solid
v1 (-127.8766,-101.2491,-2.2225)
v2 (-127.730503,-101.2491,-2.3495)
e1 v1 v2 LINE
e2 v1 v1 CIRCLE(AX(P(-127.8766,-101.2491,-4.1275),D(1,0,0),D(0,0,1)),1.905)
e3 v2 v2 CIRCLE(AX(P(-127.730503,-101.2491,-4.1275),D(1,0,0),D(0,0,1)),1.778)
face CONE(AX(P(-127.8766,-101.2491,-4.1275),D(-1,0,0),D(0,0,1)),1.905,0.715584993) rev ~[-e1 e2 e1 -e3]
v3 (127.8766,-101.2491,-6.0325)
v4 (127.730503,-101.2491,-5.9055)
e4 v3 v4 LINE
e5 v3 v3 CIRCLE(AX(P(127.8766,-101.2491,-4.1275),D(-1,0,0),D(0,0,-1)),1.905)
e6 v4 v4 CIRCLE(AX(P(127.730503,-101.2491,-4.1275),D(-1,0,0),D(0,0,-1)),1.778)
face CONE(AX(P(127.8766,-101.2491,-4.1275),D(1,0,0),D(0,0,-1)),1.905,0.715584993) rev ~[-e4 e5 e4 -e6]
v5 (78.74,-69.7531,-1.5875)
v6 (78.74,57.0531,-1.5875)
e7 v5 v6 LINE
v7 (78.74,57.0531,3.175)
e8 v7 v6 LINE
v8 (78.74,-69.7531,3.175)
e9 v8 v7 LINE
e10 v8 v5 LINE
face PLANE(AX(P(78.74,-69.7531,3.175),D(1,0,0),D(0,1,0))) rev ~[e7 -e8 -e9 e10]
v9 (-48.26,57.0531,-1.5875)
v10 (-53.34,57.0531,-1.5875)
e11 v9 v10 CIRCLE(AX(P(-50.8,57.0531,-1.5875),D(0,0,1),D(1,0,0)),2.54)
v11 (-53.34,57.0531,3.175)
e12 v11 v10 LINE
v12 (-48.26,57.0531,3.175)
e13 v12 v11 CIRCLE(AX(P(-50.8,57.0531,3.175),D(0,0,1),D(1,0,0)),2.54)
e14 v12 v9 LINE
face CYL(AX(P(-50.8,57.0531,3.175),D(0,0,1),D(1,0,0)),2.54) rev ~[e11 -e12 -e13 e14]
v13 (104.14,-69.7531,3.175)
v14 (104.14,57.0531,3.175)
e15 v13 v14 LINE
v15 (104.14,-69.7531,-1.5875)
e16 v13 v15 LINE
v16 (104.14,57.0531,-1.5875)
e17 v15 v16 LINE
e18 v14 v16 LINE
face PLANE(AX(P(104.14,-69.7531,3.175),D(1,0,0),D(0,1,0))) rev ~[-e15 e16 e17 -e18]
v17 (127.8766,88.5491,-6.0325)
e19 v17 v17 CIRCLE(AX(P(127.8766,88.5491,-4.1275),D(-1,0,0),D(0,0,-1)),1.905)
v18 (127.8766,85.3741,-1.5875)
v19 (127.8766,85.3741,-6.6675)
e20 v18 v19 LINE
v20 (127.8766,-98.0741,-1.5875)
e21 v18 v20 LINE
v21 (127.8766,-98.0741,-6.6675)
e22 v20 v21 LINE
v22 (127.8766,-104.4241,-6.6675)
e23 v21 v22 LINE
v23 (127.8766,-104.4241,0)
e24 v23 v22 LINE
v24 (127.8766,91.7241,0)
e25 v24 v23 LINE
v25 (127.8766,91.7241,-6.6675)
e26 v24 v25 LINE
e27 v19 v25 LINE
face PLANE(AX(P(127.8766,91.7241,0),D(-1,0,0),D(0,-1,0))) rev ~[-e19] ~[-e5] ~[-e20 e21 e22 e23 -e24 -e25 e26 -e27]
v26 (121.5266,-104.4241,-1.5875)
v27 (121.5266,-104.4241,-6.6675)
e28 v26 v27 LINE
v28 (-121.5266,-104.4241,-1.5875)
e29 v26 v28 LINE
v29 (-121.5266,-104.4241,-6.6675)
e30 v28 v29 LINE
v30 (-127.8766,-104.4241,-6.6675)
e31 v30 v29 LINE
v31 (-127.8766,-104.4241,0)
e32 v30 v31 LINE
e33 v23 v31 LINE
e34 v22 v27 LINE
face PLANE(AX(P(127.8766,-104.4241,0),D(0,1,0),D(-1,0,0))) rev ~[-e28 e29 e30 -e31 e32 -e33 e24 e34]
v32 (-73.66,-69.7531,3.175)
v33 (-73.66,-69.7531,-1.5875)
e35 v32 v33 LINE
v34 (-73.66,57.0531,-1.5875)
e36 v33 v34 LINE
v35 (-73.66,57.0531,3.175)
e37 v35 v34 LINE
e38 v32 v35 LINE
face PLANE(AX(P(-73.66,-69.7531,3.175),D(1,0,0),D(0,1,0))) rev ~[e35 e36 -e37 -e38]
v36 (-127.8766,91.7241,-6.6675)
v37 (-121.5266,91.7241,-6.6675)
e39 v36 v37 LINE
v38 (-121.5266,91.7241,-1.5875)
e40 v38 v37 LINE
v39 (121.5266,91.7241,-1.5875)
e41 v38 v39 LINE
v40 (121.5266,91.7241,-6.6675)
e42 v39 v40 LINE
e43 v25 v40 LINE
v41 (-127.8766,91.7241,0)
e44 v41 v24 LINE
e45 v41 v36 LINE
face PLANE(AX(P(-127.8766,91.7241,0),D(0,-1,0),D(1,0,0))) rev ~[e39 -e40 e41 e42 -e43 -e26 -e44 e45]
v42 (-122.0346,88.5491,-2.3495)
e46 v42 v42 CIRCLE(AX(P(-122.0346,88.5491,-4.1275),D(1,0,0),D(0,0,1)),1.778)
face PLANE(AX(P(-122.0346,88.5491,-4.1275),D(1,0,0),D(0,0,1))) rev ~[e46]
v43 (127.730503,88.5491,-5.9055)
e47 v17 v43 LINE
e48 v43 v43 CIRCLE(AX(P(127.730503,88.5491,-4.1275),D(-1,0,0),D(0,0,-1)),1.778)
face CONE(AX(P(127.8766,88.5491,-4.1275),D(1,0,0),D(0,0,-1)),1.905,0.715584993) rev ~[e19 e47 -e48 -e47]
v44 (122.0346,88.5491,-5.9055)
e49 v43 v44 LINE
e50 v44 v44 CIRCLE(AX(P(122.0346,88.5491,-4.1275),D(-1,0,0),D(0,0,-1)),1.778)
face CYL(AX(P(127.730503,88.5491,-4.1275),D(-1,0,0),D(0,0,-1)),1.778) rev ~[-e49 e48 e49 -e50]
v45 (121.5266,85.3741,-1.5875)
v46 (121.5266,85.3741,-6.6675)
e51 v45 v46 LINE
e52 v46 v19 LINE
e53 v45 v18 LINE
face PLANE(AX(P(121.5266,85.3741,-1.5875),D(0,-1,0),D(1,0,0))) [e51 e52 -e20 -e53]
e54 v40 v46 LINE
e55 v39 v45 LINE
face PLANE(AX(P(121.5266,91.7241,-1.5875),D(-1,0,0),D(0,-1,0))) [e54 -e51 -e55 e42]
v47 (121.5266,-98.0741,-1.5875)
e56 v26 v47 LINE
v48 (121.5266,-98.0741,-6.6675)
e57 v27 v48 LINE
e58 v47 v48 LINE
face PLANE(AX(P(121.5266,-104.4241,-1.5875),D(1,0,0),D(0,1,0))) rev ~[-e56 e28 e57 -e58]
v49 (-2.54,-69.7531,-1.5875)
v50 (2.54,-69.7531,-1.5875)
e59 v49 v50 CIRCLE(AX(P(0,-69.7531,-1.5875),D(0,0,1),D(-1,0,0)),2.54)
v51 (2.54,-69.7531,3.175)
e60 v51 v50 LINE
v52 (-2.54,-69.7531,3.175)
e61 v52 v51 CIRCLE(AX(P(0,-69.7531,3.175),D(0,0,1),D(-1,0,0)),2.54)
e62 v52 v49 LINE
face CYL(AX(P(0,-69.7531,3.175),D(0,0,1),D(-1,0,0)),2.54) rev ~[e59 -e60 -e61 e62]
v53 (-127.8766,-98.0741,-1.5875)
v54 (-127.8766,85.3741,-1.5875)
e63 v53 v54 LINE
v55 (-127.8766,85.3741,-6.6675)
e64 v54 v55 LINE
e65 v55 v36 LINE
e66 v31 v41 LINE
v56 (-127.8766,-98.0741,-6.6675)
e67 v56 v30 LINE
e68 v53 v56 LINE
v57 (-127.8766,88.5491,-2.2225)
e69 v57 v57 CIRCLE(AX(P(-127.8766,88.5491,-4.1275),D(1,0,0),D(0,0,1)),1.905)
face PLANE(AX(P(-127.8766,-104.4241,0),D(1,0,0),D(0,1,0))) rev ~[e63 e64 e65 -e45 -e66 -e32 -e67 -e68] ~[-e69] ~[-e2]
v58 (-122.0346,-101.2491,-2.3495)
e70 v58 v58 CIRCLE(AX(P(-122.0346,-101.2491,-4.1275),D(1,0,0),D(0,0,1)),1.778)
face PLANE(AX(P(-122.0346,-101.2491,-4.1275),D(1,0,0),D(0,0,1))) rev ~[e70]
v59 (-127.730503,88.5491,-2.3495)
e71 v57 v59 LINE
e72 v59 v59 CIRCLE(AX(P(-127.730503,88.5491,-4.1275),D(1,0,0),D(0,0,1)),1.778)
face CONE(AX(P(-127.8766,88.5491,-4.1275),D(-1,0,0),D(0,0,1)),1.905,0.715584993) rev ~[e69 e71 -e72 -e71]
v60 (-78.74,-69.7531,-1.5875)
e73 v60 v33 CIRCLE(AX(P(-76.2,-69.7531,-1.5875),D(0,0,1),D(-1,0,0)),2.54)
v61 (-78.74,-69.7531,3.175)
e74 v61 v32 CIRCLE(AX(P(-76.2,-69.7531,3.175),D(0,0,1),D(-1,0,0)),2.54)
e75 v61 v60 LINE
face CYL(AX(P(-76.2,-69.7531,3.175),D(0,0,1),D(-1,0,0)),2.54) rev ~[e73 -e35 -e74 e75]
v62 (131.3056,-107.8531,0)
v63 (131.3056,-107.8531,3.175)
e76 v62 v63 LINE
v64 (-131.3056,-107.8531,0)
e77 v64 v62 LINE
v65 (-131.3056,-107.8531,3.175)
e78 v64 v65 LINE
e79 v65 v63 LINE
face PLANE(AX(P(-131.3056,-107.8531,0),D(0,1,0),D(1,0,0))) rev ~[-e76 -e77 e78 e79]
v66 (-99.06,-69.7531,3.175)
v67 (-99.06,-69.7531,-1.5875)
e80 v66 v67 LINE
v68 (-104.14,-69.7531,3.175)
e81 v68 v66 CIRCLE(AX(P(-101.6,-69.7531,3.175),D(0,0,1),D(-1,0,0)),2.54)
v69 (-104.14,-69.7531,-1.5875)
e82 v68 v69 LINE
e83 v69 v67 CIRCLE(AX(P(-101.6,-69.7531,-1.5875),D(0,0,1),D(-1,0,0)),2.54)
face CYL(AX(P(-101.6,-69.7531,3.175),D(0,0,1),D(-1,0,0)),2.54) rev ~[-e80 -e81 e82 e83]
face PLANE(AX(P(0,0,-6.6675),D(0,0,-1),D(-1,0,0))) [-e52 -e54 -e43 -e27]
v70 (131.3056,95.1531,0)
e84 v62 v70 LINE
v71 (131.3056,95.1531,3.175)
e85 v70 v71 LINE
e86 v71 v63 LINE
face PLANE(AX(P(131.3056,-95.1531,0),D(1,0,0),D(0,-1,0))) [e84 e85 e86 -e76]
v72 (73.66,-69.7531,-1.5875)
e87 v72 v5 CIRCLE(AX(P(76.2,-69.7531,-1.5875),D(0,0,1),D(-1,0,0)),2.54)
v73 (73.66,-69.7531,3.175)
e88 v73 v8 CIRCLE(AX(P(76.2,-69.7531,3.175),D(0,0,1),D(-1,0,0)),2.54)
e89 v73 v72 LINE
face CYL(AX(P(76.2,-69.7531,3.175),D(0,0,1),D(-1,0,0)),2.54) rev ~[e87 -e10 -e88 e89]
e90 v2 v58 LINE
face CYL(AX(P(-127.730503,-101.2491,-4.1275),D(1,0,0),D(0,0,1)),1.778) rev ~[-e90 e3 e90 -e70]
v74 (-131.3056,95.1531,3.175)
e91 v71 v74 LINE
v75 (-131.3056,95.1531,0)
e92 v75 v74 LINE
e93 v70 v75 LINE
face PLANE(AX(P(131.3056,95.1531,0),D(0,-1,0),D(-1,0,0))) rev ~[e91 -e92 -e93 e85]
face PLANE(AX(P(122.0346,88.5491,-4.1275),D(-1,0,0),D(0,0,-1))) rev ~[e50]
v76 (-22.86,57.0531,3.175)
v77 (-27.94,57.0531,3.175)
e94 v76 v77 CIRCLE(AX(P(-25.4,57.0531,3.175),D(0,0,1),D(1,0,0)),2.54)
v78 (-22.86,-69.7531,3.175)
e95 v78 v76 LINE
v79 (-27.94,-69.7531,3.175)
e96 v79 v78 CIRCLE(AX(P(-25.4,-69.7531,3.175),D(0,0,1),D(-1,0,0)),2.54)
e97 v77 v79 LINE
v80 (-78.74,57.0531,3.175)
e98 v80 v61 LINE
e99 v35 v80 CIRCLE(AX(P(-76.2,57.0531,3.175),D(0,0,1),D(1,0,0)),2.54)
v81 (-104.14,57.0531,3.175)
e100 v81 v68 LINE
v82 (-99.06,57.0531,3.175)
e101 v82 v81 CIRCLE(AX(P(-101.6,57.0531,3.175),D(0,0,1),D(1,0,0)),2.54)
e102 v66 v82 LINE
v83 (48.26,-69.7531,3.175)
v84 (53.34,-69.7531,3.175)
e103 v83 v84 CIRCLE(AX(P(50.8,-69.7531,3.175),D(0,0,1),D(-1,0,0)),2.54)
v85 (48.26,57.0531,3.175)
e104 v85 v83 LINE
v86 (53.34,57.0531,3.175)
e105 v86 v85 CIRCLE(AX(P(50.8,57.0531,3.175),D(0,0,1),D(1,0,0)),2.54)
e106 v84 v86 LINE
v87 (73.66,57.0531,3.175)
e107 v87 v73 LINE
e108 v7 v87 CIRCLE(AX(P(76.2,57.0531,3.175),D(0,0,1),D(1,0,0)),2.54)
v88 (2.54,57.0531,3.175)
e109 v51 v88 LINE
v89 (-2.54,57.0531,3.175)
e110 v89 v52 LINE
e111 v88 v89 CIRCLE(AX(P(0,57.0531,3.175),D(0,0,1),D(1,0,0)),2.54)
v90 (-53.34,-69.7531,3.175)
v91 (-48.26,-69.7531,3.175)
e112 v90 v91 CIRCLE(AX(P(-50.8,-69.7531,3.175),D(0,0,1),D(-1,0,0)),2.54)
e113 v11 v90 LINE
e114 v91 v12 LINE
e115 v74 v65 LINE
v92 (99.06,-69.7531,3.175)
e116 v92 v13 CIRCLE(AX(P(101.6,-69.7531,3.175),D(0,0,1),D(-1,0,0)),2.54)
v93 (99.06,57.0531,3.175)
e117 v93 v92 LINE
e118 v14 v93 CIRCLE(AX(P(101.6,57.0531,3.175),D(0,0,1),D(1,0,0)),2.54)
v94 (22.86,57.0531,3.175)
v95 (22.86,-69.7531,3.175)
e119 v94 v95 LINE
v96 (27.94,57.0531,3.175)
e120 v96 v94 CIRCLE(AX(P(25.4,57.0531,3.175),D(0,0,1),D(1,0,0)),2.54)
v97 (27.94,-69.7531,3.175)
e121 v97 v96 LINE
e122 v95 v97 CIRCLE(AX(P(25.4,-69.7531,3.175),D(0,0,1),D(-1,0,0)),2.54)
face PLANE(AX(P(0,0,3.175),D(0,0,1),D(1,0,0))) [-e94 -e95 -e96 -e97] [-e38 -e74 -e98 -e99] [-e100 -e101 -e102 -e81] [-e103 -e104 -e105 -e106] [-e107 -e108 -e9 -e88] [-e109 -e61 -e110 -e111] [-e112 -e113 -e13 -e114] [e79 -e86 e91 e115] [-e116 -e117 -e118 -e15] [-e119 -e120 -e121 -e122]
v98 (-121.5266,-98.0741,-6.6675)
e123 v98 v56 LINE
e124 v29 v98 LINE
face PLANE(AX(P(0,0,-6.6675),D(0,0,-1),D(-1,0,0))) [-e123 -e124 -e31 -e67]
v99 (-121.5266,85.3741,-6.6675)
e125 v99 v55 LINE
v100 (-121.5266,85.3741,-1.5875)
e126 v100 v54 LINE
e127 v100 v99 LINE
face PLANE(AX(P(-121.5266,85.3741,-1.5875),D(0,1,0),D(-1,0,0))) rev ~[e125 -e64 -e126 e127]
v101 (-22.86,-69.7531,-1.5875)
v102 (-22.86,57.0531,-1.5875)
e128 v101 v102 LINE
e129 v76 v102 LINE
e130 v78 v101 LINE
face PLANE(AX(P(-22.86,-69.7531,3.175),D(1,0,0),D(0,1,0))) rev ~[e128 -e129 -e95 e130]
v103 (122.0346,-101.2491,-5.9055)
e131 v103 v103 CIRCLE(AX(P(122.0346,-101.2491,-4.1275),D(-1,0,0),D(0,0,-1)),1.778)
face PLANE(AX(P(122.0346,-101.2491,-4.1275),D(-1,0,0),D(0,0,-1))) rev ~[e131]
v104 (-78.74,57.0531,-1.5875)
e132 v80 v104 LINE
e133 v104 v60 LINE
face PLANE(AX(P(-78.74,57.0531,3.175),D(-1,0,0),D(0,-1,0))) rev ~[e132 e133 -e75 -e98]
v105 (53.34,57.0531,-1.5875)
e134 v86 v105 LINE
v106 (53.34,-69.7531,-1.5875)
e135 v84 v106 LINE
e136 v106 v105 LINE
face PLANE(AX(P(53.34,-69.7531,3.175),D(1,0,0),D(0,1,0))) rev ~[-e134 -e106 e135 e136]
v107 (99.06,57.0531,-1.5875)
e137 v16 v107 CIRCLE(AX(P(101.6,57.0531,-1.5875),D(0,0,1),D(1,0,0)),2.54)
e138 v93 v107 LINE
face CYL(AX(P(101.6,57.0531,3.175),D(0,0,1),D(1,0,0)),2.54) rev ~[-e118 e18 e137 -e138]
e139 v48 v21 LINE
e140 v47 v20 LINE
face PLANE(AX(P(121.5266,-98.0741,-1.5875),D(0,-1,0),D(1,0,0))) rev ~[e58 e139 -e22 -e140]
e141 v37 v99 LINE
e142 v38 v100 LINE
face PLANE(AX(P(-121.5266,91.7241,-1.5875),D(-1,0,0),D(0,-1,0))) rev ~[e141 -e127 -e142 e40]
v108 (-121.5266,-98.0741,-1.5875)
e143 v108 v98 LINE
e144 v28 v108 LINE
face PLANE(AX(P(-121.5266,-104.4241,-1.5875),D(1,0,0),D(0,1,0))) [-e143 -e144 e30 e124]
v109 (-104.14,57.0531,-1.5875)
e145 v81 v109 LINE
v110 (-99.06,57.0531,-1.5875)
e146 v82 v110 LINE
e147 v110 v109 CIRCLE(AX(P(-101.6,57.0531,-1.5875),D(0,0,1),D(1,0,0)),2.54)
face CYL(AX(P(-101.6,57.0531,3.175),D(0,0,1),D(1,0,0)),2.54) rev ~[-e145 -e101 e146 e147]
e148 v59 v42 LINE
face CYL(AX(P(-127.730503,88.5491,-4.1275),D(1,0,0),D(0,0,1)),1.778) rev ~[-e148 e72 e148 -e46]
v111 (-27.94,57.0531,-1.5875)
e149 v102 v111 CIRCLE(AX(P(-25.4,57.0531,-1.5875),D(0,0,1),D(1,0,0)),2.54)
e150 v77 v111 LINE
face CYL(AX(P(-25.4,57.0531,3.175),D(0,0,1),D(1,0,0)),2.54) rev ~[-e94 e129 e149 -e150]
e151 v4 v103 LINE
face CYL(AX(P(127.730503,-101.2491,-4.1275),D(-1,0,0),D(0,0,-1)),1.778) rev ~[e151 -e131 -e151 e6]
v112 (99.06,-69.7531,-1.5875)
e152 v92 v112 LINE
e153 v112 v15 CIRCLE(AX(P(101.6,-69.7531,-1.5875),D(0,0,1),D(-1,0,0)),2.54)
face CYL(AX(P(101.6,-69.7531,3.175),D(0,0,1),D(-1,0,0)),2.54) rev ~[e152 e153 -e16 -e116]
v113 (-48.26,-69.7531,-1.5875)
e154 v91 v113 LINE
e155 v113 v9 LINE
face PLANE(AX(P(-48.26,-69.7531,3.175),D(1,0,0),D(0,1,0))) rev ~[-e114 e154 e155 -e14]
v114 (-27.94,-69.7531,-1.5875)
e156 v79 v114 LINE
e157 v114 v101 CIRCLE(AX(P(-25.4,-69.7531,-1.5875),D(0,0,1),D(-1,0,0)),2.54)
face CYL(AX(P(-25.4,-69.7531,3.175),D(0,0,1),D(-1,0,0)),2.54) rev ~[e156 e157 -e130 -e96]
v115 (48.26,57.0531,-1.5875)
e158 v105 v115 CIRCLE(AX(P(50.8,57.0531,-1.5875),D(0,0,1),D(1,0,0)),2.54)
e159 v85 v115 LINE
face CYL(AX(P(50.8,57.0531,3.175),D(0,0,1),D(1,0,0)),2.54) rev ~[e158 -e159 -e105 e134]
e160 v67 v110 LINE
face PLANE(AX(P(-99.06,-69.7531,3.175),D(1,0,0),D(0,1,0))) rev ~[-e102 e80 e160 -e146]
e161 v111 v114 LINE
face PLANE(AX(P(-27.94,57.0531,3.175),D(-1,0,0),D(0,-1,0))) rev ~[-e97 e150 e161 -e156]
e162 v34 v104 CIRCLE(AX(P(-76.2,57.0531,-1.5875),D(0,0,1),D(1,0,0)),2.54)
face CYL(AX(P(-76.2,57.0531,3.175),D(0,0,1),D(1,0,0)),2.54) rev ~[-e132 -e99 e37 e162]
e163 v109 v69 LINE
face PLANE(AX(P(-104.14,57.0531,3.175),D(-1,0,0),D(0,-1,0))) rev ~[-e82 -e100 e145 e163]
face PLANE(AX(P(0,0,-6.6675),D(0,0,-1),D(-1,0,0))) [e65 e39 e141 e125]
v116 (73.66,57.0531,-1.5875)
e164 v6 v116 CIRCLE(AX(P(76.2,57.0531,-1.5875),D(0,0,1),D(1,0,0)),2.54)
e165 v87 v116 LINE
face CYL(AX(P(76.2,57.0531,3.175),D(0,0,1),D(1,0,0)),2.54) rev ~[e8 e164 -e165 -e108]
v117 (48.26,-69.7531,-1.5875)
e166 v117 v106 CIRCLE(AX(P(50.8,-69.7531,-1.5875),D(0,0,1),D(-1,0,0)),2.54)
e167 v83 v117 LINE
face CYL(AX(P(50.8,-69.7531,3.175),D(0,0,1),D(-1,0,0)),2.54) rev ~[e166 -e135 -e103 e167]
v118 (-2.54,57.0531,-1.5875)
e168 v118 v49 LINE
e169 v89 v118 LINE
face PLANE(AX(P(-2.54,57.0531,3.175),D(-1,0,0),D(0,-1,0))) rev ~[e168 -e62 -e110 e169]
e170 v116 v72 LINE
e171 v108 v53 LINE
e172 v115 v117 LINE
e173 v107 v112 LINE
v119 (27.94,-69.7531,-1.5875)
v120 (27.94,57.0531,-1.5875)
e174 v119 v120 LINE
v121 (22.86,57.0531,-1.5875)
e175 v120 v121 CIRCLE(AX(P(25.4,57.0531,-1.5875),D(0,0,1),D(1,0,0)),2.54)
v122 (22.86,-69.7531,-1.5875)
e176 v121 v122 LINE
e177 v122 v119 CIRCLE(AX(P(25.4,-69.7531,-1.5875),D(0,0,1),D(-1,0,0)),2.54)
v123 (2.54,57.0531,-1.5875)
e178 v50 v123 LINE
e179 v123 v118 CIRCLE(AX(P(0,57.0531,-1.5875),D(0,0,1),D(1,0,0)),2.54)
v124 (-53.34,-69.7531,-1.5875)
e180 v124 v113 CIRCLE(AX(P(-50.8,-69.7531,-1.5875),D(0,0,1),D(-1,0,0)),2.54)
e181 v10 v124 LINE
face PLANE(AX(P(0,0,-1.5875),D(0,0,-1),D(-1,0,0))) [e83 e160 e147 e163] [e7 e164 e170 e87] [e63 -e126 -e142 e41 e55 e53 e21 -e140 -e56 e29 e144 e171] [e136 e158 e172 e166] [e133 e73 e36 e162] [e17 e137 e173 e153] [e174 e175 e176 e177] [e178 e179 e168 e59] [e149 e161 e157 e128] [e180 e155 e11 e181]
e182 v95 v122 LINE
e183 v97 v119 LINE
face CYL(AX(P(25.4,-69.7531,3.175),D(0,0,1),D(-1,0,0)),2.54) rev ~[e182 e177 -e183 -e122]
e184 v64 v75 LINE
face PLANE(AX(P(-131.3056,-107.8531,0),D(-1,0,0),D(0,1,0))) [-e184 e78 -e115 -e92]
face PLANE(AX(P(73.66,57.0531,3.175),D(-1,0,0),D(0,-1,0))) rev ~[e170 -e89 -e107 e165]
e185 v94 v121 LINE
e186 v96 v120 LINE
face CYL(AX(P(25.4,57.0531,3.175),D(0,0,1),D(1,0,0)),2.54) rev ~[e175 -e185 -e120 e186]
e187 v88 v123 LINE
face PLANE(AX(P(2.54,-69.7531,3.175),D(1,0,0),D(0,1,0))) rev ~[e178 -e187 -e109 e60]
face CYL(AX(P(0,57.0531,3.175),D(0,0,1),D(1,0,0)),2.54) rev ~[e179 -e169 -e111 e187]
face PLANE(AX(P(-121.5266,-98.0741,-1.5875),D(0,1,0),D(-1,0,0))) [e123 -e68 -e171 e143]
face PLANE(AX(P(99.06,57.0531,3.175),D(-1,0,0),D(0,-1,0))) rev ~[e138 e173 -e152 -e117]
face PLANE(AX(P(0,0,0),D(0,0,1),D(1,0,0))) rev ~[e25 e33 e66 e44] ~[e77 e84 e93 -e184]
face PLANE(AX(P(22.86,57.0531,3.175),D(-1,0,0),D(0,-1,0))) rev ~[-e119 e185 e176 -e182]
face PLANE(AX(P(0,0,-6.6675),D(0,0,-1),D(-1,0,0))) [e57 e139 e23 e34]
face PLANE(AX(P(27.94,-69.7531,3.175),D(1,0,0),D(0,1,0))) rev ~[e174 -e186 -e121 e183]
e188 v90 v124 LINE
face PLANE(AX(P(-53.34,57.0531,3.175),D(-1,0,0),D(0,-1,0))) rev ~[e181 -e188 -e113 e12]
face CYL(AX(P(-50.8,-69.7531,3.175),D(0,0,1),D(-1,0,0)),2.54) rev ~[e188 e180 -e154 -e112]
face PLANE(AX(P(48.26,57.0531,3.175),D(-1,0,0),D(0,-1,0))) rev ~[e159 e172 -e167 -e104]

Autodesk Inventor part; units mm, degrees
ref_plane "YZ Plane" through (0, 0, 0) normal (1, 0, 0) x (0, 1, 0)
ref_plane "XZ Plane" through (0, 0, 0) normal (0, 1, 0) x (-1, 0, 0)
ref_plane "XY Plane" through (0, 0, 0) normal (0, 0, 1) x (1, 0, 0)
sketch "Sketch1" plane through (0, 0, 0) normal (0, 0, 1) x (1, 0, 0)
  line L0 (131.3056, -95.1531) -> (131.3056, 95.1531)
  line L1 (131.3056, 95.1531) -> (-131.3056, 95.1531)
  line L2 (-131.3056, 95.1531) -> (-131.3056, -95.1531)
  line L3 (-131.3056, -107.8531) -> (131.3056, -107.8531) projected
  line L4 (131.3056, -95.1531) -> (131.3056, -107.8531)
  line L5 (131.3056, -107.8531) -> (-131.3056, -107.8531)
  line L6 (-131.3056, -107.8531) -> (-131.3056, -95.1531)
  point P0 (0, 0)
extrude "Extrusion1" add sketch "Sketch1" along normal blind 3.175
sketch "Sketch2" plane through (0, 0, 0) normal (0, 0, -1) x (-1, 0, 0)
  line L0 (-128.1306, -104.6781) -> (128.1306, -104.6781) projected
  line L1 (128.1306, -104.6781) -> (128.1306, 91.9781) projected
  line L2 (-128.1306, 91.9781) -> (-128.1306, -104.6781) projected
  line L3 (128.1306, 91.9781) -> (-128.1306, 91.9781) projected
  line L4 (-127.8766, 91.7241) -> (-127.8766, -104.4241)
  line L5 (-127.8766, -104.4241) -> (127.8766, -104.4241)
  line L6 (127.8766, -104.4241) -> (127.8766, 91.7241)
  line L7 (127.8766, 91.7241) -> (-127.8766, 91.7241)
  point P0 (0, 0)
  dimension "d72" = 0.254
extrude "Extrusion2" add sketch "Sketch2" along normal blind 1.5875 contours L7 L6 L5 L4
sketch "Sketch6" plane through (0, 0, 3.175) normal (0, 0, 1) x (1, 0, 0)
  line L0 (0, -69.7531) -> (0, 57.0531) construction
  line L1 (2.54, -69.7531) -> (2.54, 57.0531)
  line L2 (-2.54, 57.0531) -> (-2.54, -69.7531)
  arc A0 (-2.54, -69.7531) -> (2.54, -69.7531) centre (0, -69.7531) ccw
  arc A1 (2.54, 57.0531) -> (-2.54, 57.0531) centre (0, 57.0531) ccw
  line L3 (131.3056, 95.1531) -> (-131.3056, 95.1531) projected
  line L4 (131.3056, -107.8531) -> (131.3056, 95.1531) projected
  line L5 (131.3056, 95.1531) -> (-131.3056, 95.1531) projected
  line L6 (-131.3056, 95.1531) -> (-131.3056, -107.8531) projected
  arc A2 (-22.86, 57.0531) -> (-27.94, 57.0531) centre (-25.4, 57.0531) ccw
  line L7 (-27.94, 57.0531) -> (-27.94, -69.7531)
  line L8 (-22.86, -69.7531) -> (-22.86, 57.0531)
  arc A3 (-27.94, -69.7531) -> (-22.86, -69.7531) centre (-25.4, -69.7531) ccw
  arc A4 (-48.26, 57.0531) -> (-53.34, 57.0531) centre (-50.8, 57.0531) ccw
  line L9 (-53.34, 57.0531) -> (-53.34, -69.7531)
  line L10 (-48.26, -69.7531) -> (-48.26, 57.0531)
  arc A5 (-53.34, -69.7531) -> (-48.26, -69.7531) centre (-50.8, -69.7531) ccw
  arc A6 (-73.66, 57.0531) -> (-78.74, 57.0531) centre (-76.2, 57.0531) ccw
  line L11 (-78.74, 57.0531) -> (-78.74, -69.7531)
  line L12 (-73.66, -69.7531) -> (-73.66, 57.0531)
  arc A7 (-78.74, -69.7531) -> (-73.66, -69.7531) centre (-76.2, -69.7531) ccw
  arc A8 (-99.06, 57.0531) -> (-104.14, 57.0531) centre (-101.6, 57.0531) ccw
  line L13 (-104.14, 57.0531) -> (-104.14, -69.7531)
  line L14 (-99.06, -69.7531) -> (-99.06, 57.0531)
  arc A9 (-104.14, -69.7531) -> (-99.06, -69.7531) centre (-101.6, -69.7531) ccw
  arc A10 (27.94, 57.0531) -> (22.86, 57.0531) centre (25.4, 57.0531) ccw
  line L15 (22.86, 57.0531) -> (22.86, -69.7531)
  line L16 (27.94, -69.7531) -> (27.94, 57.0531)
  arc A11 (22.86, -69.7531) -> (27.94, -69.7531) centre (25.4, -69.7531) ccw
  arc A12 (2.54, 57.0531) -> (-2.54, 57.0531) centre (0, 57.0531) ccw
  line L17 (-2.54, 57.0531) -> (-2.54, -69.7531)
  line L18 (2.54, -69.7531) -> (2.54, 57.0531)
  arc A13 (-2.54, -69.7531) -> (2.54, -69.7531) centre (0, -69.7531) ccw
  arc A14 (-22.86, 57.0531) -> (-27.94, 57.0531) centre (-25.4, 57.0531) ccw
  line L19 (-27.94, 57.0531) -> (-27.94, -69.7531)
  line L20 (-22.86, -69.7531) -> (-22.86, 57.0531)
  arc A15 (-27.94, -69.7531) -> (-22.86, -69.7531) centre (-25.4, -69.7531) ccw
  arc A16 (-48.26, 57.0531) -> (-53.34, 57.0531) centre (-50.8, 57.0531) ccw
  line L21 (-53.34, 57.0531) -> (-53.34, -69.7531)
  line L22 (-48.26, -69.7531) -> (-48.26, 57.0531)
  arc A17 (-53.34, -69.7531) -> (-48.26, -69.7531) centre (-50.8, -69.7531) ccw
  arc A18 (-73.66, 57.0531) -> (-78.74, 57.0531) centre (-76.2, 57.0531) ccw
  line L23 (-78.74, 57.0531) -> (-78.74, -69.7531)
  line L24 (-73.66, -69.7531) -> (-73.66, 57.0531)
  arc A19 (-78.74, -69.7531) -> (-73.66, -69.7531) centre (-76.2, -69.7531) ccw
  arc A20 (53.34, 57.0531) -> (48.26, 57.0531) centre (50.8, 57.0531) ccw
  line L25 (48.26, 57.0531) -> (48.26, -69.7531)
  line L26 (53.34, -69.7531) -> (53.34, 57.0531)
  arc A21 (48.26, -69.7531) -> (53.34, -69.7531) centre (50.8, -69.7531) ccw
  arc A22 (27.94, 57.0531) -> (22.86, 57.0531) centre (25.4, 57.0531) ccw
  line L27 (22.86, 57.0531) -> (22.86, -69.7531)
  line L28 (27.94, -69.7531) -> (27.94, 57.0531)
  arc A23 (22.86, -69.7531) -> (27.94, -69.7531) centre (25.4, -69.7531) ccw
  arc A24 (2.54, 57.0531) -> (-2.54, 57.0531) centre (0, 57.0531) ccw
  line L29 (-2.54, 57.0531) -> (-2.54, -69.7531)
  line L30 (2.54, -69.7531) -> (2.54, 57.0531)
  arc A25 (-2.54, -69.7531) -> (2.54, -69.7531) centre (0, -69.7531) ccw
  arc A26 (-22.86, 57.0531) -> (-27.94, 57.0531) centre (-25.4, 57.0531) ccw
  line L31 (-27.94, 57.0531) -> (-27.94, -69.7531)
  line L32 (-22.86, -69.7531) -> (-22.86, 57.0531)
  arc A27 (-27.94, -69.7531) -> (-22.86, -69.7531) centre (-25.4, -69.7531) ccw
  arc A28 (-48.26, 57.0531) -> (-53.34, 57.0531) centre (-50.8, 57.0531) ccw
  line L33 (-53.34, 57.0531) -> (-53.34, -69.7531)
  line L34 (-48.26, -69.7531) -> (-48.26, 57.0531)
  arc A29 (-53.34, -69.7531) -> (-48.26, -69.7531) centre (-50.8, -69.7531) ccw
  arc A30 (78.74, 57.0531) -> (73.66, 57.0531) centre (76.2, 57.0531) ccw
  line L35 (73.66, 57.0531) -> (73.66, -69.7531)
  line L36 (78.74, -69.7531) -> (78.74, 57.0531)
  arc A31 (73.66, -69.7531) -> (78.74, -69.7531) centre (76.2, -69.7531) ccw
  arc A32 (53.34, 57.0531) -> (48.26, 57.0531) centre (50.8, 57.0531) ccw
  line L37 (48.26, 57.0531) -> (48.26, -69.7531)
  line L38 (53.34, -69.7531) -> (53.34, 57.0531)
  arc A33 (48.26, -69.7531) -> (53.34, -69.7531) centre (50.8, -69.7531) ccw
  arc A34 (27.94, 57.0531) -> (22.86, 57.0531) centre (25.4, 57.0531) ccw
  line L39 (22.86, 57.0531) -> (22.86, -69.7531)
  line L40 (27.94, -69.7531) -> (27.94, 57.0531)
  arc A35 (22.86, -69.7531) -> (27.94, -69.7531) centre (25.4, -69.7531) ccw
  arc A36 (2.54, 57.0531) -> (-2.54, 57.0531) centre (0, 57.0531) ccw
  line L41 (-2.54, 57.0531) -> (-2.54, -69.7531)
  line L42 (2.54, -69.7531) -> (2.54, 57.0531)
  arc A37 (-2.54, -69.7531) -> (2.54, -69.7531) centre (0, -69.7531) ccw
  arc A38 (-22.86, 57.0531) -> (-27.94, 57.0531) centre (-25.4, 57.0531) ccw
  line L43 (-27.94, 57.0531) -> (-27.94, -69.7531)
  line L44 (-22.86, -69.7531) -> (-22.86, 57.0531)
  arc A39 (-27.94, -69.7531) -> (-22.86, -69.7531) centre (-25.4, -69.7531) ccw
  arc A40 (104.14, 57.0531) -> (99.06, 57.0531) centre (101.6, 57.0531) ccw
  line L45 (99.06, 57.0531) -> (99.06, -69.7531)
  line L46 (104.14, -69.7531) -> (104.14, 57.0531)
  arc A41 (99.06, -69.7531) -> (104.14, -69.7531) centre (101.6, -69.7531) ccw
  arc A42 (78.74, 57.0531) -> (73.66, 57.0531) centre (76.2, 57.0531) ccw
  line L47 (73.66, 57.0531) -> (73.66, -69.7531)
  line L48 (78.74, -69.7531) -> (78.74, 57.0531)
  arc A43 (73.66, -69.7531) -> (78.74, -69.7531) centre (76.2, -69.7531) ccw
  arc A44 (53.34, 57.0531) -> (48.26, 57.0531) centre (50.8, 57.0531) ccw
  line L49 (48.26, 57.0531) -> (48.26, -69.7531)
  line L50 (53.34, -69.7531) -> (53.34, 57.0531)
  arc A45 (48.26, -69.7531) -> (53.34, -69.7531) centre (50.8, -69.7531) ccw
  arc A46 (27.94, 57.0531) -> (22.86, 57.0531) centre (25.4, 57.0531) ccw
  line L51 (22.86, 57.0531) -> (22.86, -69.7531)
  line L52 (27.94, -69.7531) -> (27.94, 57.0531)
  arc A47 (22.86, -69.7531) -> (27.94, -69.7531) centre (25.4, -69.7531) ccw
  arc A48 (2.54, 57.0531) -> (-2.54, 57.0531) centre (0, 57.0531) ccw
  line L53 (-2.54, 57.0531) -> (-2.54, -69.7531)
  line L54 (2.54, -69.7531) -> (2.54, 57.0531)
  arc A49 (-2.54, -69.7531) -> (2.54, -69.7531) centre (0, -69.7531) ccw
  line L55 (-131.3056, -107.8531) -> (131.3056, -107.8531) projected
  dimension "d28" = 5.08
  dimension "d31" = 25.4
  dimension "d34" = 25.4
  dimension "d110" = 203.0062
  dimension "d112" = 38.1
  dimension "d113" = 38.1
extrude "Extrusion4" cut sketch "Sketch6" against normal up to surface (4.7625 mm away) contours A0 L2 A1 L1 | L8 A3 L7 A2 | L10 A5 L9 A4 | L12 A7 L11 A6 | L14 A9 L13 A8 | L16 A11 L15 A10 | L26 A21 L25 A20 | L36 A31 L35 A30 | L46 A41 L45 A40
sketch "Sketch7" plane through (0, 0, -1.5875) normal (0, 0, -1) x (-1, 0, 0)
  line L0 (-127.8766, 91.7241) -> (-121.5266, 91.7241)
  line L1 (-121.5266, 91.7241) -> (-121.5266, 85.3741)
  line L2 (-121.5266, 85.3741) -> (-127.8766, 85.3741)
  line L3 (-127.8766, 85.3741) -> (-127.8766, 91.7241)
  line L4 (-127.8766, -104.4241) -> (-121.5266, -104.4241)
  line L5 (-121.5266, -104.4241) -> (-121.5266, -98.0741)
  line L6 (-121.5266, -98.0741) -> (-127.8766, -98.0741)
  line L7 (-127.8766, -98.0741) -> (-127.8766, -104.4241)
  line L8 (127.8766, 91.7241) -> (121.5266, 91.7241)
  line L9 (121.5266, 91.7241) -> (121.5266, 85.3741)
  line L10 (121.5266, 85.3741) -> (127.8766, 85.3741)
  line L11 (127.8766, 85.3741) -> (127.8766, 91.7241)
  line L12 (127.8766, -104.4241) -> (121.5266, -104.4241)
  line L13 (121.5266, -104.4241) -> (121.5266, -98.0741)
  line L14 (121.5266, -98.0741) -> (127.8766, -98.0741)
  line L15 (127.8766, -98.0741) -> (127.8766, -104.4241)
  line L16 (127.8766, -104.4241) -> (127.8766, 91.7241) projected
  line L17 (-127.8766, -104.4241) -> (127.8766, -104.4241) projected
  line L18 (127.8766, 91.7241) -> (-127.8766, 91.7241) projected
  line L19 (-127.8766, 91.7241) -> (-127.8766, -104.4241) projected
  point P0 (0, 0)
  dimension "d40" = 6.35
  dimension "d41" = 6.35
  dimension "d42" = 6.35
  dimension "d43" = 6.35
  dimension "d44" = 6.35
  dimension "d45" = 6.35
  dimension "d46" = 6.35
  dimension "d47" = 6.35
  dimension "d73" = 0
  dimension "d74" = 0
  dimension "d75" = 0
  dimension "d76" = 0
extrude "Extrusion5" add sketch "Sketch7" along normal blind 5.08 contours L0 L1 L2 L3 | L8 L11 L10 L9 | L6 L5 L4 L7 | L15 L12 L13 L14
sketch "Sketch11" plane through (-127.8766, -104.4241, 0) normal (-1, 0, 0) x (0, 0, 1)
  line L0 (-1.5875, 189.7982) -> (-6.6675, 189.7982) projected
  line L1 (0, 196.1482) -> (-6.6675, 196.1482) projected
  line L2 (-1.5875, 189.7982) -> (-6.6675, 196.1482)
  line L3 (-1.5875, 6.35) -> (-1.5875, 189.7982) projected
  line L4 (0, 0) -> (-6.6675, 0) projected
  line L5 (-1.5875, 6.35) -> (-6.6675, 0)
  point P0 (0, 104.4241)
  point P1 (-4.1275, 3.175)
  point P2 (-4.1275, 192.9732)
sketch "Sketch12" plane through (127.8766, -104.4241, 0) normal (1, 0, 0) x (0, 0, -1)
  point P0 (0, 104.4241)
  point P1 (4.1275, 3.175)
  point P2 (4.1275, 192.9732)
hole "Hole5" at (-127.8766, 88.5491, -4.1275) at (-127.8766, -101.2491, -4.1275) direction (1, 0, 0) diameter 3.556 depth 5.842 countersink diameter 3.81 countersink angle 82
hole "Hole6" at (127.8766, -101.2491, -4.1275) at (127.8766, 88.5491, -4.1275) direction (-1, 0, 0) diameter 3.556 depth 5.842 countersink diameter 3.81 countersink angle 82
ref_plane "Work Plane1" through (13.1569, -107.8531, 0) normal (-1, 0, 0) x (0, 0, 1)
sketch "Sketch13" plane through (13.1569, -107.8531, 0) normal (-1, 0, 0) x (0, 0, 1)
  line L0 (0, 203.0062) -> (3.175, 203.0062) projected
  line L1 (0, 0) -> (3.175, 0) projected
  line L2 (0, 0) -> (0, 203.0062) projected
  line L3 (3.175, 0) -> (3.175, 203.0062) projected
  line L4 (0, 0) -> (3.175, 0)
  line L5 (3.175, 0) -> (3.175, 1.5875)
  line L6 (3.175, 1.5875) -> (0, 1.5875)
  line L7 (0, 1.5875) -> (0, 0)
  line L8 (3.175, 38.1) -> (3.175, 164.9062) projected
  line L9 (0, 3.429) -> (0, 199.5772) projected
  line L10 (0, 101.5031) -> (3.175, 101.5031)
  circle A0 centre (1.5875, 1.5875) radius 1.016
  circle A1 centre (1.5875, 101.5031) radius 1.016
  line L11 (1.5875, 1.5875) -> (1.5875, 0)
  line L12 (1.5875, 101.5031) -> (1.5875, 1.5875)
  circle A2 centre (1.5875, 51.5453) radius 1.016
  circle A3 centre (1.5875, 201.4187) radius 1.016
  circle A4 centre (1.5875, 151.4609) radius 1.016
  point P0 (0, 107.8531)
  dimension "d92" = 1.5875
  dimension "d93" = 2.032
  dimension "d94" = 2.032
  dimension "d95" = 2.032
sketch "Sketch14" plane through (13.1569, -107.8531, 0) normal (-1, 0, 0) x (0, 0, 1)
  circle A0 centre (1.5875, 201.4187) radius 1.016 projected
  circle A1 centre (1.5875, 151.4609) radius 1.016 projected
  circle A2 centre (1.5875, 101.5031) radius 1.016 projected
  circle A3 centre (1.5875, 51.5453) radius 1.016 projected
  circle A4 centre (1.5875, 1.5875) radius 1.016 projected
  circle A5 centre (1.5875, 1.5875) radius 1.143
  circle A6 centre (1.5875, 51.5453) radius 1.143
  circle A7 centre (1.5875, 101.5031) radius 1.143
  circle A8 centre (1.5875, 151.4609) radius 1.143
  circle A9 centre (1.5875, 201.4187) radius 1.143
  point P0 (0, 107.8531)
  dimension "d96" = 0.127
  dimension "d97" = 0.127
  dimension "d98" = 0.127
  dimension "d99" = 0.127
  dimension "d100" = 0.127
sketch "Sketch15" plane through (0, 0, 3.175) normal (0, 0, 1) x (1, 0, 0)
  line L0 (13.1569, -107.8531) -> (13.1569, 95.1531) projected
  arc A0 (48.26, -69.7531) -> (53.34, -69.7531) centre (50.8, -69.7531) ccw projected
  line L1 (48.26, -69.7531) -> (48.26, 57.0531) projected
  arc A1 (53.34, 57.0531) -> (48.26, 57.0531) centre (50.8, 57.0531) ccw projected
  line L2 (53.34, 57.0531) -> (53.34, -69.7531) projected
  line L3 (104.14, 57.0531) -> (104.14, -69.7531) projected
  arc A2 (99.06, -69.7531) -> (104.14, -69.7531) centre (101.6, -69.7531) ccw projected
  line L4 (99.06, -69.7531) -> (99.06, 57.0531) projected
  arc A3 (104.14, 57.0531) -> (99.06, 57.0531) centre (101.6, 57.0531) ccw projected
  line L5 (2.54, 57.0531) -> (2.54, -69.7531) projected
  arc A4 (-2.54, -69.7531) -> (2.54, -69.7531) centre (0, -69.7531) ccw projected
  line L6 (-2.54, -69.7531) -> (-2.54, 57.0531) projected
  arc A5 (2.54, 57.0531) -> (-2.54, 57.0531) centre (0, 57.0531) ccw projected
  arc A6 (-99.06, 57.0531) -> (-104.14, 57.0531) centre (-101.6, 57.0531) ccw projected
  line L7 (-99.06, 57.0531) -> (-99.06, -69.7531) projected
  arc A7 (-104.14, -69.7531) -> (-99.06, -69.7531) centre (-101.6, -69.7531) ccw projected
  line L8 (-104.14, -69.7531) -> (-104.14, 57.0531) projected
  arc A8 (-22.86, 57.0531) -> (-27.94, 57.0531) centre (-25.4, 57.0531) ccw projected
  line L9 (-22.86, 57.0531) -> (-22.86, -69.7531) projected
  arc A9 (-27.94, -69.7531) -> (-22.86, -69.7531) centre (-25.4, -69.7531) ccw projected
  line L10 (-27.94, -69.7531) -> (-27.94, 57.0531) projected
  line L11 (73.66, -69.7531) -> (73.66, 57.0531) projected
  arc A10 (78.74, 57.0531) -> (73.66, 57.0531) centre (76.2, 57.0531) ccw projected
  line L12 (78.74, 57.0531) -> (78.74, -69.7531) projected
  arc A11 (73.66, -69.7531) -> (78.74, -69.7531) centre (76.2, -69.7531) ccw projected
  arc A12 (27.94, 57.0531) -> (22.86, 57.0531) centre (25.4, 57.0531) ccw projected
  line L13 (27.94, 57.0531) -> (27.94, -69.7531) projected
  arc A13 (22.86, -69.7531) -> (27.94, -69.7531) centre (25.4, -69.7531) ccw projected
  line L14 (22.86, -69.7531) -> (22.86, 57.0531) projected
  line L15 (-78.74, -69.7531) -> (-78.74, 57.0531) projected
  arc A14 (-73.66, 57.0531) -> (-78.74, 57.0531) centre (-76.2, 57.0531) ccw projected
  line L16 (-73.66, 57.0531) -> (-73.66, -69.7531) projected
  arc A15 (-78.74, -69.7531) -> (-73.66, -69.7531) centre (-76.2, -69.7531) ccw projected
  line L17 (-53.34, -69.7531) -> (-53.34, 57.0531) projected
  arc A16 (-48.26, 57.0531) -> (-53.34, 57.0531) centre (-50.8, 57.0531) ccw projected
  line L18 (-48.26, 57.0531) -> (-48.26, -69.7531) projected
  arc A17 (-53.34, -69.7531) -> (-48.26, -69.7531) centre (-50.8, -69.7531) ccw projected
  line L19 (-131.3056, 95.1531) -> (-131.3056, -107.8531) projected
  line L20 (-131.3056, -107.8531) -> (131.3056, -107.8531) projected
  line L21 (131.3056, -107.8531) -> (131.3056, 95.1531) projected
  line L22 (131.3056, 95.1531) -> (-131.3056, 95.1531) projected
  point P0 (0, 0)
  point P1 (13.1569, 95.1531)
properties part number "RSA_TOP" material "PC/ABS Plastic"
